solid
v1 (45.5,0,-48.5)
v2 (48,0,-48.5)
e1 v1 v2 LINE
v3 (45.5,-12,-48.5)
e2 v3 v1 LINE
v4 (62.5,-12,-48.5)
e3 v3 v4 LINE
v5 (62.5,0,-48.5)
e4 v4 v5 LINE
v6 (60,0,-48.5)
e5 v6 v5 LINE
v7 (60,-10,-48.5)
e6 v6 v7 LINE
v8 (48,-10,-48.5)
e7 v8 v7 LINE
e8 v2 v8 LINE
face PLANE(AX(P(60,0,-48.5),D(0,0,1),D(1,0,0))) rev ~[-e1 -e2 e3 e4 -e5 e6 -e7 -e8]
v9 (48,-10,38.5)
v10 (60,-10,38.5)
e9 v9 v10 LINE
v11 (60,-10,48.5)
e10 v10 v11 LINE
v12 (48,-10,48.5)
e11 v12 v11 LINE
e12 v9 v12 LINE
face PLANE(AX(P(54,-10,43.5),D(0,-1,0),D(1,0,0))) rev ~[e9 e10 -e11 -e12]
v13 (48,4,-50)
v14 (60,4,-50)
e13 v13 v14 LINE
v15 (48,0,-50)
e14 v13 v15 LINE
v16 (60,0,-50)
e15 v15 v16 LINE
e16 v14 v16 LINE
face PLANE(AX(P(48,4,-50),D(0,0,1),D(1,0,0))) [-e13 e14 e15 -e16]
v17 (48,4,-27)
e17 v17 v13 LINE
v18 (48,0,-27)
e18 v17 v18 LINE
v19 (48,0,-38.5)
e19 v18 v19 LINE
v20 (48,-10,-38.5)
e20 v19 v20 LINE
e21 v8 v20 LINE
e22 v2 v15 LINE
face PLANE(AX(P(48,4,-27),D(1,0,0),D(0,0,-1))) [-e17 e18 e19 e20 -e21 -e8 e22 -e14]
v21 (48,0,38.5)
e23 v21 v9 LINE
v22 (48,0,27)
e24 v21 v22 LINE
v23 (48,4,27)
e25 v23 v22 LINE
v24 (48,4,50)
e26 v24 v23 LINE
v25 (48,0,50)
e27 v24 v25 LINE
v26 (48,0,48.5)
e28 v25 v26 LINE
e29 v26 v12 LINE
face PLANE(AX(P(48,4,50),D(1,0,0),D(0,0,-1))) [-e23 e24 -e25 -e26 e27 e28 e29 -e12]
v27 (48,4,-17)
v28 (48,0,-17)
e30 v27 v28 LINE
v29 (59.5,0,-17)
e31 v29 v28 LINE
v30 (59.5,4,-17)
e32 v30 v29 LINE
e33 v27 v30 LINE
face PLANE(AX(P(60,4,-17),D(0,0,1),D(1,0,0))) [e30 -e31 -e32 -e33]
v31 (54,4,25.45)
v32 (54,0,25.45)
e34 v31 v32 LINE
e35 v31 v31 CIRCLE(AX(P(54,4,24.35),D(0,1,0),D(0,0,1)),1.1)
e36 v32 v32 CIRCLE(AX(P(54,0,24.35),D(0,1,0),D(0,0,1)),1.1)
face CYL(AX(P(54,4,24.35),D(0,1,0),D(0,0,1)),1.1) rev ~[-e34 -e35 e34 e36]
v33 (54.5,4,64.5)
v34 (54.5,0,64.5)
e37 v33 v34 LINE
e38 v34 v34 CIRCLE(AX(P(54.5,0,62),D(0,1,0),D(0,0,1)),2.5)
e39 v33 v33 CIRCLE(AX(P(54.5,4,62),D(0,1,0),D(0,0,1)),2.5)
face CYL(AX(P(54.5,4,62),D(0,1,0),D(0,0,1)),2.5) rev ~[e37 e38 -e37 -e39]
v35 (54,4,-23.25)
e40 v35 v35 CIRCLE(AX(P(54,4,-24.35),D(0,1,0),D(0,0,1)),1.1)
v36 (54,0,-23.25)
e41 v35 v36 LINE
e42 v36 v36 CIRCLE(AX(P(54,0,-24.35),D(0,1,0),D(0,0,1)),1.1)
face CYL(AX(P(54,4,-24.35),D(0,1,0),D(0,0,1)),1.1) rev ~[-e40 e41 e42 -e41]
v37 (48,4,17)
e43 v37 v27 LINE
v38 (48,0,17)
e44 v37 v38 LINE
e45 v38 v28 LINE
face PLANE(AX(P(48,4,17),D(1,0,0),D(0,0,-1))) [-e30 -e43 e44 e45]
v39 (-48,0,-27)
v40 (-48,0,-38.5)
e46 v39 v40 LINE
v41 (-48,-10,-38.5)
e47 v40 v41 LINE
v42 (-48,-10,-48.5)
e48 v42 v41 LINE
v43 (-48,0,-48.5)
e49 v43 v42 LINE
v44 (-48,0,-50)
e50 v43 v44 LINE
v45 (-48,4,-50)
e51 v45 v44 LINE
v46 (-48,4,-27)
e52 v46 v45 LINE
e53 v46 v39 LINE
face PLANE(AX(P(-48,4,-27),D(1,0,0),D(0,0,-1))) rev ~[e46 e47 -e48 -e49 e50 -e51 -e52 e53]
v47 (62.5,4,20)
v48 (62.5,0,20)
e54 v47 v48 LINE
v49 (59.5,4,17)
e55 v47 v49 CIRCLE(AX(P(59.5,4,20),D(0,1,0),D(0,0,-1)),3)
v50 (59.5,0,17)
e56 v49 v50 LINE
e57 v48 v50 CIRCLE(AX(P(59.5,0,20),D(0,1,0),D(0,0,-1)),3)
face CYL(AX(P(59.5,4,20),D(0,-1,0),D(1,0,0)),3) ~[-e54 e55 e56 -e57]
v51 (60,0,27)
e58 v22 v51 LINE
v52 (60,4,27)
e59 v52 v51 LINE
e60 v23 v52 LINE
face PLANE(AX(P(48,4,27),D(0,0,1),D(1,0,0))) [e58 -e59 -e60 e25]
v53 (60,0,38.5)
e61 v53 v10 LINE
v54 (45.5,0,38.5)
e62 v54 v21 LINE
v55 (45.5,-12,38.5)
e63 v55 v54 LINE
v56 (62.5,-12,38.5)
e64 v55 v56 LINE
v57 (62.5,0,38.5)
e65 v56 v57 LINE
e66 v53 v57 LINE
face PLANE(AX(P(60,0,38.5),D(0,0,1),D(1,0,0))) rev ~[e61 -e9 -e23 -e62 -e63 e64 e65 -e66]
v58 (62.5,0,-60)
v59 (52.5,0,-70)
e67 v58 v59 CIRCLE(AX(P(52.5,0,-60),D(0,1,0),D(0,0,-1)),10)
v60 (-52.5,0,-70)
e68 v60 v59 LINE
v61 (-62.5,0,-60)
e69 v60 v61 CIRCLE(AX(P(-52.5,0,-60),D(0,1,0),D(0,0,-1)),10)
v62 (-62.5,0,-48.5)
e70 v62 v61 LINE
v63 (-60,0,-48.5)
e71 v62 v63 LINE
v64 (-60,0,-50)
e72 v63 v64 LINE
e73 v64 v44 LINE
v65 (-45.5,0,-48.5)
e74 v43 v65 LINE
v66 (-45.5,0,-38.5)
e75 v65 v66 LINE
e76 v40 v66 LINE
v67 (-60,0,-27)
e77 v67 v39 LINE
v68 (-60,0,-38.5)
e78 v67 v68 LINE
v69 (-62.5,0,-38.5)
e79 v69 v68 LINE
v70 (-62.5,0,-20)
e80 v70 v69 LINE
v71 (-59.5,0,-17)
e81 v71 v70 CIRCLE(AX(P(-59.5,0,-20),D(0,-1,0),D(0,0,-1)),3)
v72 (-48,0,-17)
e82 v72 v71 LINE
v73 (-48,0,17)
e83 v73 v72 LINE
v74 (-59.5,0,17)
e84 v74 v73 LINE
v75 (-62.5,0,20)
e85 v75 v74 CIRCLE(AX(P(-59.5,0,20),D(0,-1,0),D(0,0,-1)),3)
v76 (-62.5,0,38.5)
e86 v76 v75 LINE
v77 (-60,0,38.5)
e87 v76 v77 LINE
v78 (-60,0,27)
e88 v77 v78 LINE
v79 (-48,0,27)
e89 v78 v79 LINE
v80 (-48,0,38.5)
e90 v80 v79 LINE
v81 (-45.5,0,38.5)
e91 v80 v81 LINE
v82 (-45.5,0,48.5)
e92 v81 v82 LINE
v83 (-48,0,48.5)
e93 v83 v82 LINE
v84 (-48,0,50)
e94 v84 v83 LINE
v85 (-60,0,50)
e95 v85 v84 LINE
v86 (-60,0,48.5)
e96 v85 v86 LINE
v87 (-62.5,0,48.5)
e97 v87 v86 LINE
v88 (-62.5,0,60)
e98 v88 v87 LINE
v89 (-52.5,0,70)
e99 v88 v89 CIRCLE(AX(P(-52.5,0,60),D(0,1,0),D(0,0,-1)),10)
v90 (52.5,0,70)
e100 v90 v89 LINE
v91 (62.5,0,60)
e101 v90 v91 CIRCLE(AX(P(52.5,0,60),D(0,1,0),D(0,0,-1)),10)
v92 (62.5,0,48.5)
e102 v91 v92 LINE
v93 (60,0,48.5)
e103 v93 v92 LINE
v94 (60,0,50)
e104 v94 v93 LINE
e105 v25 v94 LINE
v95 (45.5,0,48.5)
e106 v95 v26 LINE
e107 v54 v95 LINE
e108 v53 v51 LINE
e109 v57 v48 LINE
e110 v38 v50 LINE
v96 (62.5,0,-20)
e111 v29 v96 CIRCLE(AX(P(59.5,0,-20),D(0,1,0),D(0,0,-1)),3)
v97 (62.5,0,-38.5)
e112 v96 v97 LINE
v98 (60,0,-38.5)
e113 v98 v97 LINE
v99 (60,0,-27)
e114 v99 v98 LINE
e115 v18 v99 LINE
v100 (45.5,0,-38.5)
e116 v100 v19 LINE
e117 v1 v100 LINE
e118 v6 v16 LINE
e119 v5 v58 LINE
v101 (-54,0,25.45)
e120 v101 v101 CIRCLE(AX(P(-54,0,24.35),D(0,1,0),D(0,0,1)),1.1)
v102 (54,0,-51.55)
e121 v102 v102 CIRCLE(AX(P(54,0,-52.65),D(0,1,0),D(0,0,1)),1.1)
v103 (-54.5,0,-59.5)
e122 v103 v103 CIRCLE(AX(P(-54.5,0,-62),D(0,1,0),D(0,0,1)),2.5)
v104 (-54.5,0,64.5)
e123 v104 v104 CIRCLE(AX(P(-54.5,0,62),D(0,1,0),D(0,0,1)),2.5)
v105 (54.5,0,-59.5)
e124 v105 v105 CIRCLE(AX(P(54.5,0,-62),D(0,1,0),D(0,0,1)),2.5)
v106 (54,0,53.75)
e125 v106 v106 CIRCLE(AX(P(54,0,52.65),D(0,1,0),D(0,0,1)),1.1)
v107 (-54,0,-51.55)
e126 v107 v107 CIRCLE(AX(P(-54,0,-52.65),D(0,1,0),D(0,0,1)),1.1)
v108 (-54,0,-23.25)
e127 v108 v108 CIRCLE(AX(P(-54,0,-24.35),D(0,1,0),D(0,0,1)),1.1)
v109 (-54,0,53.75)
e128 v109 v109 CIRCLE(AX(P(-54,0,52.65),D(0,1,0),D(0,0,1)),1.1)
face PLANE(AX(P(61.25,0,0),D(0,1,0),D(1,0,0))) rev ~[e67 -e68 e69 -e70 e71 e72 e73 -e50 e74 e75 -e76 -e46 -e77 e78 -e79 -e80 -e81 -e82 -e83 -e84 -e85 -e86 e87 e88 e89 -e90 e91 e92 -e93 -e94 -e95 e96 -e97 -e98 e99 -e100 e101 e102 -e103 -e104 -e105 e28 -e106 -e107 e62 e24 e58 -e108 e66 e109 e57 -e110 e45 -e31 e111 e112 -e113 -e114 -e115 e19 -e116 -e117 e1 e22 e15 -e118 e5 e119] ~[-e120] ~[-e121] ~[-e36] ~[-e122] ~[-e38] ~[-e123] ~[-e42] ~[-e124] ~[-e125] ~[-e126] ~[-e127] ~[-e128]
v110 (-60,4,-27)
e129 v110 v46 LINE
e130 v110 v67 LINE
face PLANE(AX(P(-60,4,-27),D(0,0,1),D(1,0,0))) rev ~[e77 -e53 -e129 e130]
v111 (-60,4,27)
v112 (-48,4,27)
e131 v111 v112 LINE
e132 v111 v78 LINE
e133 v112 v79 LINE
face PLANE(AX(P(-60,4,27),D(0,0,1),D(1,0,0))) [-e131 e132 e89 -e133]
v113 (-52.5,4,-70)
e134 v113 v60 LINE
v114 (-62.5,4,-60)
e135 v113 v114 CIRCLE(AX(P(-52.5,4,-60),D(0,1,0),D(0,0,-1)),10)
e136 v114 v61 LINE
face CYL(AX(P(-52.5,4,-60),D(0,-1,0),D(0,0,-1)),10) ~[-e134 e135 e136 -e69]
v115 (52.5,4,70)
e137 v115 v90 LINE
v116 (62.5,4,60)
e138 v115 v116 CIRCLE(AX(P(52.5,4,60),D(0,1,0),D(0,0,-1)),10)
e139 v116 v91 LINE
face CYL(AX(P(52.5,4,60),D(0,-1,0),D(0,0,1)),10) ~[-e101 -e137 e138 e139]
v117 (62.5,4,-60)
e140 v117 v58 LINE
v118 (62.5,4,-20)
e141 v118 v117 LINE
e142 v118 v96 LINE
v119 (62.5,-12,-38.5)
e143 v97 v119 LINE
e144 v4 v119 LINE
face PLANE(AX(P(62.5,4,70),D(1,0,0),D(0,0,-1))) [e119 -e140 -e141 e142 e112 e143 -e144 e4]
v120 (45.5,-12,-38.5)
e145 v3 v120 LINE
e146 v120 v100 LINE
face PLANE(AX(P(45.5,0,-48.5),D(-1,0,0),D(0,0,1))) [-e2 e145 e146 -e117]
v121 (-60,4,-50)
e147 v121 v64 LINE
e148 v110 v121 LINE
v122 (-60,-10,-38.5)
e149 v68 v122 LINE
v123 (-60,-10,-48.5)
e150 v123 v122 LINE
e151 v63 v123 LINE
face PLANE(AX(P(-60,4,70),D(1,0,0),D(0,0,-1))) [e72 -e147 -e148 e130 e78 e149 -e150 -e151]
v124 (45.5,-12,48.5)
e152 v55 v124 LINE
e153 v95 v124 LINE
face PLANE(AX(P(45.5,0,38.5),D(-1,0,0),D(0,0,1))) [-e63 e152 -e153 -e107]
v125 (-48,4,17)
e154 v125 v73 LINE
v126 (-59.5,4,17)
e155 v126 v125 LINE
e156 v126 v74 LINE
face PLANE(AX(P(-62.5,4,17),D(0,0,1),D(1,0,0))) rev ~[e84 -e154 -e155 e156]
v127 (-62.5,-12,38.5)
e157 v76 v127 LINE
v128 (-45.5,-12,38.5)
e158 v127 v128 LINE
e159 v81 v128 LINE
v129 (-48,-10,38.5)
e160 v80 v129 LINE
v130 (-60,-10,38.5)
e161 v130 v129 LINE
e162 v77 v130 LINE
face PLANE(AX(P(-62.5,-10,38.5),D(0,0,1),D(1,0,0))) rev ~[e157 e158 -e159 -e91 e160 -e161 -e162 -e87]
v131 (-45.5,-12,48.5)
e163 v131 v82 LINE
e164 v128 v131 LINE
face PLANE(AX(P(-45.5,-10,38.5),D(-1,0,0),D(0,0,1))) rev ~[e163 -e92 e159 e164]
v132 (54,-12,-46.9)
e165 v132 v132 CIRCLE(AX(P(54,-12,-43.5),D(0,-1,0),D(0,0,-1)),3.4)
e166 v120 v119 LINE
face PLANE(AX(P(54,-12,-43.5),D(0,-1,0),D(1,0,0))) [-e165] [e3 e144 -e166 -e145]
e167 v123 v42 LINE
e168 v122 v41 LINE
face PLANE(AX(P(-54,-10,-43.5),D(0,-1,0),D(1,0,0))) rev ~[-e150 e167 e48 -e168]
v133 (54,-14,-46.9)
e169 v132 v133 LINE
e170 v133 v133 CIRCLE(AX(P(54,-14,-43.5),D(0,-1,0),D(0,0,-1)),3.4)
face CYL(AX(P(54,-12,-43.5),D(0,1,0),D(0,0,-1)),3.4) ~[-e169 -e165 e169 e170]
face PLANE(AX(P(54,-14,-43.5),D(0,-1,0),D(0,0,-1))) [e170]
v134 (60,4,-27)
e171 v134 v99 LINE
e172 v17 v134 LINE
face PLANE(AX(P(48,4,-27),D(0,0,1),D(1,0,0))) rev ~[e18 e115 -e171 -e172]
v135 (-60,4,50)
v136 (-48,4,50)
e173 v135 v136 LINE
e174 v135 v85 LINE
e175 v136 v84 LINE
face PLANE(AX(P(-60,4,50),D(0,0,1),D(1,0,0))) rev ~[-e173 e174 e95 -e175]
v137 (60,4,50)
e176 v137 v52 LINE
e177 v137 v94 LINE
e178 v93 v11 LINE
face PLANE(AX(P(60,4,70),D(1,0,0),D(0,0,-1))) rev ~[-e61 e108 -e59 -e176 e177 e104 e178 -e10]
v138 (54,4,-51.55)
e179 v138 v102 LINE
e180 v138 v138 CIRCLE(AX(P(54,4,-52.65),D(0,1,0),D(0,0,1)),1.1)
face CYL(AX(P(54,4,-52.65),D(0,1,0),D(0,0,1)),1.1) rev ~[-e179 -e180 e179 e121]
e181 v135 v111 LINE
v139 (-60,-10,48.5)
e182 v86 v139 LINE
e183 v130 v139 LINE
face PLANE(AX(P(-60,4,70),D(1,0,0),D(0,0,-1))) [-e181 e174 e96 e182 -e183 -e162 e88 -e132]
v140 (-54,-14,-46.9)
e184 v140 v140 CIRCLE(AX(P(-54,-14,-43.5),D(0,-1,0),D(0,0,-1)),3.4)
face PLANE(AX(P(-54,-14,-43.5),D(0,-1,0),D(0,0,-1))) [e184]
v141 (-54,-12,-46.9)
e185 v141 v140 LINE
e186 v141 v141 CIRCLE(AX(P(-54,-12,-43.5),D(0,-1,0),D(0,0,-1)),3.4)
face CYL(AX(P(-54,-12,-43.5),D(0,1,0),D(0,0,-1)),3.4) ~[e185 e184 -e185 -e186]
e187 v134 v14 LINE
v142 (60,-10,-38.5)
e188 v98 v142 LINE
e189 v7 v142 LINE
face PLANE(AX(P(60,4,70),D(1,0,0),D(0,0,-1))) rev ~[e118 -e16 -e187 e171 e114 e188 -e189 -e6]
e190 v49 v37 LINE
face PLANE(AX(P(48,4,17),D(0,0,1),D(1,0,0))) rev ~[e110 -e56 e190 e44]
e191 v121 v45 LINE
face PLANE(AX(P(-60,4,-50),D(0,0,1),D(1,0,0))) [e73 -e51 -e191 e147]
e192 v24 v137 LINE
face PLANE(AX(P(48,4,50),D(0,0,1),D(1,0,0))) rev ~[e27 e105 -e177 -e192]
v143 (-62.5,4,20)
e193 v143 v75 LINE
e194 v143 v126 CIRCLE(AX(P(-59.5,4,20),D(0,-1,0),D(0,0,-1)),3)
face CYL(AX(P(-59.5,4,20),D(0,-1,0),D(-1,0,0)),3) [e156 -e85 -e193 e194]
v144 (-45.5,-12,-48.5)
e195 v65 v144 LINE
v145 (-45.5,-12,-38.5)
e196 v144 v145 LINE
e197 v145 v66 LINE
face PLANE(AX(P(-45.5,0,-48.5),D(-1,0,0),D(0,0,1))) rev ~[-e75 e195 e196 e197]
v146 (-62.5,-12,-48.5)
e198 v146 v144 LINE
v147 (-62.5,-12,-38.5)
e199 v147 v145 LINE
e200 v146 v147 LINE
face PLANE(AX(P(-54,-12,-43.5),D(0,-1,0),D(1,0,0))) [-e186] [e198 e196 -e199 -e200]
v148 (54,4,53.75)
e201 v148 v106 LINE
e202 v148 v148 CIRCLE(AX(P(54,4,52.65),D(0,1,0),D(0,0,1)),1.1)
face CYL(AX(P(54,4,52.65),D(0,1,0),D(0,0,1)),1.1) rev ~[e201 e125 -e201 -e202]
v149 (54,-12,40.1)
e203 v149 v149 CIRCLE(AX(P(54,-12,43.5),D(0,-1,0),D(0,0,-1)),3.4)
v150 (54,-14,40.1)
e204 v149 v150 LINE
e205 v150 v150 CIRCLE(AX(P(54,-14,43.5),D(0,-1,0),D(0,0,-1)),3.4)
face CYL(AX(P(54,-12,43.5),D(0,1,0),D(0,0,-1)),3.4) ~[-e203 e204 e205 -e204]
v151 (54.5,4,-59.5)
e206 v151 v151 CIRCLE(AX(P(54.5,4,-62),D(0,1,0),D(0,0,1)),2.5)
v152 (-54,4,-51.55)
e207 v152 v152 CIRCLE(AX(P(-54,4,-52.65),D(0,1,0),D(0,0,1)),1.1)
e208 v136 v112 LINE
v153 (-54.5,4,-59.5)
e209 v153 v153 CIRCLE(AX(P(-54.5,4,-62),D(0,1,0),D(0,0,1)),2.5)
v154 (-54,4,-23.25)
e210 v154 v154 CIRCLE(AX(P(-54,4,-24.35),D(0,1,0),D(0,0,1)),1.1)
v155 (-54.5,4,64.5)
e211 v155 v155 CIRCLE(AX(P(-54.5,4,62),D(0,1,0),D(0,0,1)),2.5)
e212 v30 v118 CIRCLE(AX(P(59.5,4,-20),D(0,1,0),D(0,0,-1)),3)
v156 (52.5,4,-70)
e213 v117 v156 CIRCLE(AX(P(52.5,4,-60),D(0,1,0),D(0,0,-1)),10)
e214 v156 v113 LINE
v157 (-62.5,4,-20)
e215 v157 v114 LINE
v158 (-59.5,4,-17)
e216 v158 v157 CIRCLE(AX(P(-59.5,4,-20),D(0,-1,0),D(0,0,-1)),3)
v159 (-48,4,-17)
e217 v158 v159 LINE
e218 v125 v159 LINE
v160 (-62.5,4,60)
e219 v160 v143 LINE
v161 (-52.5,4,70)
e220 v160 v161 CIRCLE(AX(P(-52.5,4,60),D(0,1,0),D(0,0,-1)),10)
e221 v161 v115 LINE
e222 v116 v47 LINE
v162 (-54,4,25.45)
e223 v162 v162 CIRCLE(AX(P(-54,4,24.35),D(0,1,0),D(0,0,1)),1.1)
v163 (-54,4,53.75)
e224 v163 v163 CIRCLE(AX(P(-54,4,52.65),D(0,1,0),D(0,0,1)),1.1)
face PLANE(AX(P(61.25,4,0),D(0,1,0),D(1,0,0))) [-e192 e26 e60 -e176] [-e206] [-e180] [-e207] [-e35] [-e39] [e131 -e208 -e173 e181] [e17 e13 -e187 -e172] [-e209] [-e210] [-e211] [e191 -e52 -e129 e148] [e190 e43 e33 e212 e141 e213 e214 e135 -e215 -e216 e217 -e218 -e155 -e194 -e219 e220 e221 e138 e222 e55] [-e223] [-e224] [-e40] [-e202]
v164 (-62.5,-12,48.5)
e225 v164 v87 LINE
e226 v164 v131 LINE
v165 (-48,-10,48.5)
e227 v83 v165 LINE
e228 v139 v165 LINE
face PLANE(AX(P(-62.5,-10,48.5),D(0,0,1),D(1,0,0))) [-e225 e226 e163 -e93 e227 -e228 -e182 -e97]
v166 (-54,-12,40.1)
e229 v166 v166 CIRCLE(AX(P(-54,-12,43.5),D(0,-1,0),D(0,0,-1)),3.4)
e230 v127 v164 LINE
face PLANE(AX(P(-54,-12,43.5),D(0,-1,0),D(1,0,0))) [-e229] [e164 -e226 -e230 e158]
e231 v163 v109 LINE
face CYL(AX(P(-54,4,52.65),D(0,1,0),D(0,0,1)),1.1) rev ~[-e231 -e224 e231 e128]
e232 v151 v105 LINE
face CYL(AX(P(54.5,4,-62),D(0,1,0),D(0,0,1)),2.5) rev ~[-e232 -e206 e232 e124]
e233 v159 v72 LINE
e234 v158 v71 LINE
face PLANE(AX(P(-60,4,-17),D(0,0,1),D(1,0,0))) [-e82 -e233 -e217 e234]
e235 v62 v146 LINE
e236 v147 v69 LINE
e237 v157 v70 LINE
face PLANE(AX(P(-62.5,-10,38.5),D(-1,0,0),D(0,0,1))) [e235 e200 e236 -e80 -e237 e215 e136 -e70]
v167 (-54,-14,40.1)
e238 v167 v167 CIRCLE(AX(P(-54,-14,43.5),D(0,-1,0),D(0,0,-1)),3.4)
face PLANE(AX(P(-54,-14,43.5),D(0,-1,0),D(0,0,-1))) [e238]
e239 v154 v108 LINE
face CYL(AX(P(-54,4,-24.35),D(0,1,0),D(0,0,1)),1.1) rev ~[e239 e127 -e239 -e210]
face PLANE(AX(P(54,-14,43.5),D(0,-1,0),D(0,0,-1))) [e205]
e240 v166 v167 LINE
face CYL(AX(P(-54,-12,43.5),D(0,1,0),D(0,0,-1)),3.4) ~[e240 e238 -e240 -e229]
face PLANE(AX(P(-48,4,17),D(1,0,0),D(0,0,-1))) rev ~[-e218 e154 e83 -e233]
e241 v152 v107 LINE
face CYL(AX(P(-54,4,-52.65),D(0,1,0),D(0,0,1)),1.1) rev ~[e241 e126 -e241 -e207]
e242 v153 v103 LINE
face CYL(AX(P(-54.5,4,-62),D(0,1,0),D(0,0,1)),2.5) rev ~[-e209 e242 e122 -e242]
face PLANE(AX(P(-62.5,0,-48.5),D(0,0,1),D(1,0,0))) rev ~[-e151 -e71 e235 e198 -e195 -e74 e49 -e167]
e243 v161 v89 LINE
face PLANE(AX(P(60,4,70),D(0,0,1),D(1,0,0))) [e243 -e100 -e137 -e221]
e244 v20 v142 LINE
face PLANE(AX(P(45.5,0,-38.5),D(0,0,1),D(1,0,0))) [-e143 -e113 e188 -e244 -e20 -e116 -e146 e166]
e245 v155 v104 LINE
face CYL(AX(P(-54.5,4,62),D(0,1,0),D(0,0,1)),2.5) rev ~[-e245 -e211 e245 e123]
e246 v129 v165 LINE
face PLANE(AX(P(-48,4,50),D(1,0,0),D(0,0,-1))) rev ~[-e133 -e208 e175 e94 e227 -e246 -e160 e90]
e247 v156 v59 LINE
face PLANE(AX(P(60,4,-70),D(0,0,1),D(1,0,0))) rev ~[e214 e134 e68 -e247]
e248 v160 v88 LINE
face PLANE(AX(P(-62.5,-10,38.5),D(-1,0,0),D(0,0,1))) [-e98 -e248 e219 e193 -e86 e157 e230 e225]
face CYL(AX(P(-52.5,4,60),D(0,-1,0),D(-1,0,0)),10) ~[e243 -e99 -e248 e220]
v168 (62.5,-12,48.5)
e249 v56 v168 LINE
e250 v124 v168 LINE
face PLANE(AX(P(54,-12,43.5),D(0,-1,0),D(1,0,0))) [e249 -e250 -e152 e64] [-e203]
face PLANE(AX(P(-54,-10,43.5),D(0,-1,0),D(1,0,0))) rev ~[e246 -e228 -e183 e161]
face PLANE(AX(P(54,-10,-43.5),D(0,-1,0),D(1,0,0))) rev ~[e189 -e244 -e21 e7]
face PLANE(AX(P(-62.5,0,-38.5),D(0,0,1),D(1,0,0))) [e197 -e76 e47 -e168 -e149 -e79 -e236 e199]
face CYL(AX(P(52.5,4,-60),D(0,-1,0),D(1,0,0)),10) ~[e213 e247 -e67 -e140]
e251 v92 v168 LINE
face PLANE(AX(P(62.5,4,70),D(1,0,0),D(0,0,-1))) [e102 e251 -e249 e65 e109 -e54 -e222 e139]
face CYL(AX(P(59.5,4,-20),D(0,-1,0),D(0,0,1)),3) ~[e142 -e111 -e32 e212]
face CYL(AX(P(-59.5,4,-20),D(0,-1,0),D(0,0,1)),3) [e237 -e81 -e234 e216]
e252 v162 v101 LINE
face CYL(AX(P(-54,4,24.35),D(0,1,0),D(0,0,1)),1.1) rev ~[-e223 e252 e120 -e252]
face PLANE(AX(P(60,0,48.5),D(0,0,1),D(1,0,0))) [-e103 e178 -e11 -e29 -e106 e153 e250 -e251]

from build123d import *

# Parameters (mm, degrees)
SKETCH1_W           = 120
SKETCH1_H           = 140
BOSS_EXTRUDE1_DEPTH = 4
SKETCH2_W           = 12
SKETCH2_H           = 23
SKETCH2_H_2         = 34
SKETCH2_R           = 1.1
SKETCH2_R_2         = 2.5
CUT_EXTRUDE1_DEPTH  = 93.28217596
SKETCH3_W           = 2.5
SKETCH3_H           = 140
BOSS_EXTRUDE2_DEPTH = 4
SKETCH7_W           = 2.5
SKETCH7_H           = 10
BOSS_EXTRUDE6_DEPTH = 10
SKETCH8_W           = 17
SKETCH8_H           = 10
BOSS_EXTRUDE7_DEPTH = 2
SKETCH9_R           = 3.4
BOSS_EXTRUDE8_DEPTH = 2
SKETCH10_W          = 2.5
SKETCH10_H          = 34
CUT_EXTRUDE2_DEPTH  = 96.552341677
FILLET1_R           = 10
FILLET2_R           = 10
FILLET3_R           = 10
FILLET4_R           = 10
FILLET5_R           = 3
FILLET6_R           = 3
FILLET7_R           = 3
FILLET8_R           = 3


with BuildPart() as part:
    # Sketch1 → Boss-Extrude1 (new body)
    with BuildSketch(Plane(origin=(0, 0, 0), x_dir=(1, 0, 0), z_dir=(0, 1, 0))):
        Rectangle(SKETCH1_W, SKETCH1_H)
    extrude(amount=BOSS_EXTRUDE1_DEPTH)

    # Sketch2 → Cut-Extrude1 (cut, through all)
    with BuildSketch(Plane(origin=(0, 4, 0), x_dir=(1, 0, 0), z_dir=(0, 1, 0))):
        with Locations((54, 38.5)):
            Rectangle(SKETCH2_W, SKETCH2_H)
        with Locations((-54, 38.5)):
            Rectangle(SKETCH2_W, SKETCH2_H)
        with Locations((54, -38.5)):
            Rectangle(SKETCH2_W, SKETCH2_H)
        with Locations((-54, -38.5)):
            Rectangle(SKETCH2_W, SKETCH2_H)
        with Locations((-54, 0)):
            Rectangle(SKETCH2_W, SKETCH2_H_2)
        with Locations((54, 0)):
            Rectangle(SKETCH2_W, SKETCH2_H_2)
        with Locations(Location((-54, 52.65, 0), (0, 0, 270))):
            Circle(SKETCH2_R)
        with Locations(Location((-54, 24.35, 0), (0, 0, 270))):
            Circle(SKETCH2_R)
        with Locations(Location((-54, -24.35, 0), (0, 0, 270))):
            Circle(SKETCH2_R)
        with Locations(Location((-54, -52.65, 0), (0, 0, 270))):
            Circle(SKETCH2_R)
        with Locations(Location((54, 52.65, 0), (0, 0, 270))):
            Circle(SKETCH2_R)
        with Locations(Location((54, 24.35, 0), (0, 0, 270))):
            Circle(SKETCH2_R)
        with Locations(Location((54, -24.35, 0), (0, 0, 270))):
            Circle(SKETCH2_R)
        with Locations(Location((54, -52.65, 0), (0, 0, 270))):
            Circle(SKETCH2_R)
        with Locations(Location((-54.5, 62, 0), (0, 0, 270))):
            Circle(SKETCH2_R_2)
        with Locations(Location((54.5, 62, 0), (0, 0, 270))):
            Circle(SKETCH2_R_2)
        with Locations(Location((54.5, -62, 0), (0, 0, 270))):
            Circle(SKETCH2_R_2)
        with Locations(Location((-54.5, -62, 0), (0, 0, 270))):
            Circle(SKETCH2_R_2)
    extrude(amount=-CUT_EXTRUDE1_DEPTH, mode=Mode.SUBTRACT)

    # Sketch3 → Boss-Extrude2 (add)
    with BuildSketch(Plane(origin=(0, 4, 0), x_dir=(1, 0, 0), z_dir=(0, 1, 0))):
        with Locations((61.25, 0)):
            Rectangle(SKETCH3_W, SKETCH3_H)
        with Locations((-61.25, 0)):
            Rectangle(SKETCH3_W, SKETCH3_H)
    extrude(amount=-BOSS_EXTRUDE2_DEPTH)

    # Sketch7 → Boss-Extrude6 (add)
    with BuildSketch(Plane.XZ):
        with Locations((46.75, 43.5)):
            Rectangle(SKETCH7_W, SKETCH7_H)
        with Locations((61.25, 43.5)):
            Rectangle(SKETCH7_W, SKETCH7_H)
        with Locations((-61.25, 43.5)):
            Rectangle(SKETCH7_W, SKETCH7_H)
        with Locations((-46.75, 43.5)):
            Rectangle(SKETCH7_W, SKETCH7_H)
        with Locations((-61.25, -43.5)):
            Rectangle(SKETCH7_W, SKETCH7_H)
        with Locations((-46.75, -43.5)):
            Rectangle(SKETCH7_W, SKETCH7_H)
        with Locations((46.75, -43.5)):
            Rectangle(SKETCH7_W, SKETCH7_H)
        with Locations((61.25, -43.5)):
            Rectangle(SKETCH7_W, SKETCH7_H)
    extrude(amount=BOSS_EXTRUDE6_DEPTH)

    # Sketch8 → Boss-Extrude7 (add)
    with BuildSketch(Plane.XZ.offset(10)):
        with Locations((-54, 43.5)):
            Rectangle(SKETCH8_W, SKETCH8_H)
        with Locations((-54, -43.5)):
            Rectangle(SKETCH8_W, SKETCH8_H)
        with Locations((54, -43.5)):
            Rectangle(SKETCH8_W, SKETCH8_H)
        with Locations((54, 43.5)):
            Rectangle(SKETCH8_W, SKETCH8_H)
    extrude(amount=BOSS_EXTRUDE7_DEPTH)

    # Sketch9 → Boss-Extrude8 (add)
    with BuildSketch(Plane.XZ.offset(12)):
        with Locations(Location((54, 43.5, 0), (0, 0, 270))):
            Circle(SKETCH9_R)
        with Locations(Location((-54, 43.5, 0), (0, 0, 270))):
            Circle(SKETCH9_R)
        with Locations(Location((-54, -43.5, 0), (0, 0, 270))):
            Circle(SKETCH9_R)
        with Locations(Location((54, -43.5, 0), (0, 0, 270))):
            Circle(SKETCH9_R)
    extrude(amount=BOSS_EXTRUDE8_DEPTH)

    # Sketch10 → Cut-Extrude2 (cut, through all)
    with BuildSketch(Plane(origin=(0, 4, 0), x_dir=(1, 0, 0), z_dir=(0, 1, 0))):
        with Locations((61.25, 0)):
            Rectangle(SKETCH10_W, SKETCH10_H)
        with Locations((-61.25, 0)):
            Rectangle(SKETCH10_W, SKETCH10_H)
    extrude(amount=-CUT_EXTRUDE2_DEPTH, mode=Mode.SUBTRACT)

    # Fillet1
    fillet1_edges = [part.edges().sort_by_distance(p)[0] for p in [
        (62.5, 2, -70),
    ]]
    fillet(fillet1_edges, radius=FILLET1_R)

    # Fillet2
    fillet2_edges = [part.edges().sort_by_distance(p)[0] for p in [
        (-62.5, 2, -70),
    ]]
    fillet(fillet2_edges, radius=FILLET2_R)

    # Fillet3
    fillet3_edges = [part.edges().sort_by_distance(p)[0] for p in [
        (-62.5, 2, 70),
    ]]
    fillet(fillet3_edges, radius=FILLET3_R)

    # Fillet4
    fillet4_edges = [part.edges().sort_by_distance(p)[0] for p in [
        (62.5, 2, 70),
    ]]
    fillet(fillet4_edges, radius=FILLET4_R)

    # Fillet5
    fillet5_edges = [part.edges().sort_by_distance(p)[0] for p in [
        (62.5, 2, -17),
    ]]
    fillet(fillet5_edges, radius=FILLET5_R)

    # Fillet6
    fillet6_edges = [part.edges().sort_by_distance(p)[0] for p in [
        (-62.5, 2, 17),
    ]]
    fillet(fillet6_edges, radius=FILLET6_R)

    # Fillet7
    fillet7_edges = [part.edges().sort_by_distance(p)[0] for p in [
        (62.5, 2, 17),
    ]]
    fillet(fillet7_edges, radius=FILLET7_R)

    # Fillet8
    fillet8_edges = [part.edges().sort_by_distance(p)[0] for p in [
        (-62.5, 2, -17),
    ]]
    fillet(fillet8_edges, radius=FILLET8_R)


solid = part.part
